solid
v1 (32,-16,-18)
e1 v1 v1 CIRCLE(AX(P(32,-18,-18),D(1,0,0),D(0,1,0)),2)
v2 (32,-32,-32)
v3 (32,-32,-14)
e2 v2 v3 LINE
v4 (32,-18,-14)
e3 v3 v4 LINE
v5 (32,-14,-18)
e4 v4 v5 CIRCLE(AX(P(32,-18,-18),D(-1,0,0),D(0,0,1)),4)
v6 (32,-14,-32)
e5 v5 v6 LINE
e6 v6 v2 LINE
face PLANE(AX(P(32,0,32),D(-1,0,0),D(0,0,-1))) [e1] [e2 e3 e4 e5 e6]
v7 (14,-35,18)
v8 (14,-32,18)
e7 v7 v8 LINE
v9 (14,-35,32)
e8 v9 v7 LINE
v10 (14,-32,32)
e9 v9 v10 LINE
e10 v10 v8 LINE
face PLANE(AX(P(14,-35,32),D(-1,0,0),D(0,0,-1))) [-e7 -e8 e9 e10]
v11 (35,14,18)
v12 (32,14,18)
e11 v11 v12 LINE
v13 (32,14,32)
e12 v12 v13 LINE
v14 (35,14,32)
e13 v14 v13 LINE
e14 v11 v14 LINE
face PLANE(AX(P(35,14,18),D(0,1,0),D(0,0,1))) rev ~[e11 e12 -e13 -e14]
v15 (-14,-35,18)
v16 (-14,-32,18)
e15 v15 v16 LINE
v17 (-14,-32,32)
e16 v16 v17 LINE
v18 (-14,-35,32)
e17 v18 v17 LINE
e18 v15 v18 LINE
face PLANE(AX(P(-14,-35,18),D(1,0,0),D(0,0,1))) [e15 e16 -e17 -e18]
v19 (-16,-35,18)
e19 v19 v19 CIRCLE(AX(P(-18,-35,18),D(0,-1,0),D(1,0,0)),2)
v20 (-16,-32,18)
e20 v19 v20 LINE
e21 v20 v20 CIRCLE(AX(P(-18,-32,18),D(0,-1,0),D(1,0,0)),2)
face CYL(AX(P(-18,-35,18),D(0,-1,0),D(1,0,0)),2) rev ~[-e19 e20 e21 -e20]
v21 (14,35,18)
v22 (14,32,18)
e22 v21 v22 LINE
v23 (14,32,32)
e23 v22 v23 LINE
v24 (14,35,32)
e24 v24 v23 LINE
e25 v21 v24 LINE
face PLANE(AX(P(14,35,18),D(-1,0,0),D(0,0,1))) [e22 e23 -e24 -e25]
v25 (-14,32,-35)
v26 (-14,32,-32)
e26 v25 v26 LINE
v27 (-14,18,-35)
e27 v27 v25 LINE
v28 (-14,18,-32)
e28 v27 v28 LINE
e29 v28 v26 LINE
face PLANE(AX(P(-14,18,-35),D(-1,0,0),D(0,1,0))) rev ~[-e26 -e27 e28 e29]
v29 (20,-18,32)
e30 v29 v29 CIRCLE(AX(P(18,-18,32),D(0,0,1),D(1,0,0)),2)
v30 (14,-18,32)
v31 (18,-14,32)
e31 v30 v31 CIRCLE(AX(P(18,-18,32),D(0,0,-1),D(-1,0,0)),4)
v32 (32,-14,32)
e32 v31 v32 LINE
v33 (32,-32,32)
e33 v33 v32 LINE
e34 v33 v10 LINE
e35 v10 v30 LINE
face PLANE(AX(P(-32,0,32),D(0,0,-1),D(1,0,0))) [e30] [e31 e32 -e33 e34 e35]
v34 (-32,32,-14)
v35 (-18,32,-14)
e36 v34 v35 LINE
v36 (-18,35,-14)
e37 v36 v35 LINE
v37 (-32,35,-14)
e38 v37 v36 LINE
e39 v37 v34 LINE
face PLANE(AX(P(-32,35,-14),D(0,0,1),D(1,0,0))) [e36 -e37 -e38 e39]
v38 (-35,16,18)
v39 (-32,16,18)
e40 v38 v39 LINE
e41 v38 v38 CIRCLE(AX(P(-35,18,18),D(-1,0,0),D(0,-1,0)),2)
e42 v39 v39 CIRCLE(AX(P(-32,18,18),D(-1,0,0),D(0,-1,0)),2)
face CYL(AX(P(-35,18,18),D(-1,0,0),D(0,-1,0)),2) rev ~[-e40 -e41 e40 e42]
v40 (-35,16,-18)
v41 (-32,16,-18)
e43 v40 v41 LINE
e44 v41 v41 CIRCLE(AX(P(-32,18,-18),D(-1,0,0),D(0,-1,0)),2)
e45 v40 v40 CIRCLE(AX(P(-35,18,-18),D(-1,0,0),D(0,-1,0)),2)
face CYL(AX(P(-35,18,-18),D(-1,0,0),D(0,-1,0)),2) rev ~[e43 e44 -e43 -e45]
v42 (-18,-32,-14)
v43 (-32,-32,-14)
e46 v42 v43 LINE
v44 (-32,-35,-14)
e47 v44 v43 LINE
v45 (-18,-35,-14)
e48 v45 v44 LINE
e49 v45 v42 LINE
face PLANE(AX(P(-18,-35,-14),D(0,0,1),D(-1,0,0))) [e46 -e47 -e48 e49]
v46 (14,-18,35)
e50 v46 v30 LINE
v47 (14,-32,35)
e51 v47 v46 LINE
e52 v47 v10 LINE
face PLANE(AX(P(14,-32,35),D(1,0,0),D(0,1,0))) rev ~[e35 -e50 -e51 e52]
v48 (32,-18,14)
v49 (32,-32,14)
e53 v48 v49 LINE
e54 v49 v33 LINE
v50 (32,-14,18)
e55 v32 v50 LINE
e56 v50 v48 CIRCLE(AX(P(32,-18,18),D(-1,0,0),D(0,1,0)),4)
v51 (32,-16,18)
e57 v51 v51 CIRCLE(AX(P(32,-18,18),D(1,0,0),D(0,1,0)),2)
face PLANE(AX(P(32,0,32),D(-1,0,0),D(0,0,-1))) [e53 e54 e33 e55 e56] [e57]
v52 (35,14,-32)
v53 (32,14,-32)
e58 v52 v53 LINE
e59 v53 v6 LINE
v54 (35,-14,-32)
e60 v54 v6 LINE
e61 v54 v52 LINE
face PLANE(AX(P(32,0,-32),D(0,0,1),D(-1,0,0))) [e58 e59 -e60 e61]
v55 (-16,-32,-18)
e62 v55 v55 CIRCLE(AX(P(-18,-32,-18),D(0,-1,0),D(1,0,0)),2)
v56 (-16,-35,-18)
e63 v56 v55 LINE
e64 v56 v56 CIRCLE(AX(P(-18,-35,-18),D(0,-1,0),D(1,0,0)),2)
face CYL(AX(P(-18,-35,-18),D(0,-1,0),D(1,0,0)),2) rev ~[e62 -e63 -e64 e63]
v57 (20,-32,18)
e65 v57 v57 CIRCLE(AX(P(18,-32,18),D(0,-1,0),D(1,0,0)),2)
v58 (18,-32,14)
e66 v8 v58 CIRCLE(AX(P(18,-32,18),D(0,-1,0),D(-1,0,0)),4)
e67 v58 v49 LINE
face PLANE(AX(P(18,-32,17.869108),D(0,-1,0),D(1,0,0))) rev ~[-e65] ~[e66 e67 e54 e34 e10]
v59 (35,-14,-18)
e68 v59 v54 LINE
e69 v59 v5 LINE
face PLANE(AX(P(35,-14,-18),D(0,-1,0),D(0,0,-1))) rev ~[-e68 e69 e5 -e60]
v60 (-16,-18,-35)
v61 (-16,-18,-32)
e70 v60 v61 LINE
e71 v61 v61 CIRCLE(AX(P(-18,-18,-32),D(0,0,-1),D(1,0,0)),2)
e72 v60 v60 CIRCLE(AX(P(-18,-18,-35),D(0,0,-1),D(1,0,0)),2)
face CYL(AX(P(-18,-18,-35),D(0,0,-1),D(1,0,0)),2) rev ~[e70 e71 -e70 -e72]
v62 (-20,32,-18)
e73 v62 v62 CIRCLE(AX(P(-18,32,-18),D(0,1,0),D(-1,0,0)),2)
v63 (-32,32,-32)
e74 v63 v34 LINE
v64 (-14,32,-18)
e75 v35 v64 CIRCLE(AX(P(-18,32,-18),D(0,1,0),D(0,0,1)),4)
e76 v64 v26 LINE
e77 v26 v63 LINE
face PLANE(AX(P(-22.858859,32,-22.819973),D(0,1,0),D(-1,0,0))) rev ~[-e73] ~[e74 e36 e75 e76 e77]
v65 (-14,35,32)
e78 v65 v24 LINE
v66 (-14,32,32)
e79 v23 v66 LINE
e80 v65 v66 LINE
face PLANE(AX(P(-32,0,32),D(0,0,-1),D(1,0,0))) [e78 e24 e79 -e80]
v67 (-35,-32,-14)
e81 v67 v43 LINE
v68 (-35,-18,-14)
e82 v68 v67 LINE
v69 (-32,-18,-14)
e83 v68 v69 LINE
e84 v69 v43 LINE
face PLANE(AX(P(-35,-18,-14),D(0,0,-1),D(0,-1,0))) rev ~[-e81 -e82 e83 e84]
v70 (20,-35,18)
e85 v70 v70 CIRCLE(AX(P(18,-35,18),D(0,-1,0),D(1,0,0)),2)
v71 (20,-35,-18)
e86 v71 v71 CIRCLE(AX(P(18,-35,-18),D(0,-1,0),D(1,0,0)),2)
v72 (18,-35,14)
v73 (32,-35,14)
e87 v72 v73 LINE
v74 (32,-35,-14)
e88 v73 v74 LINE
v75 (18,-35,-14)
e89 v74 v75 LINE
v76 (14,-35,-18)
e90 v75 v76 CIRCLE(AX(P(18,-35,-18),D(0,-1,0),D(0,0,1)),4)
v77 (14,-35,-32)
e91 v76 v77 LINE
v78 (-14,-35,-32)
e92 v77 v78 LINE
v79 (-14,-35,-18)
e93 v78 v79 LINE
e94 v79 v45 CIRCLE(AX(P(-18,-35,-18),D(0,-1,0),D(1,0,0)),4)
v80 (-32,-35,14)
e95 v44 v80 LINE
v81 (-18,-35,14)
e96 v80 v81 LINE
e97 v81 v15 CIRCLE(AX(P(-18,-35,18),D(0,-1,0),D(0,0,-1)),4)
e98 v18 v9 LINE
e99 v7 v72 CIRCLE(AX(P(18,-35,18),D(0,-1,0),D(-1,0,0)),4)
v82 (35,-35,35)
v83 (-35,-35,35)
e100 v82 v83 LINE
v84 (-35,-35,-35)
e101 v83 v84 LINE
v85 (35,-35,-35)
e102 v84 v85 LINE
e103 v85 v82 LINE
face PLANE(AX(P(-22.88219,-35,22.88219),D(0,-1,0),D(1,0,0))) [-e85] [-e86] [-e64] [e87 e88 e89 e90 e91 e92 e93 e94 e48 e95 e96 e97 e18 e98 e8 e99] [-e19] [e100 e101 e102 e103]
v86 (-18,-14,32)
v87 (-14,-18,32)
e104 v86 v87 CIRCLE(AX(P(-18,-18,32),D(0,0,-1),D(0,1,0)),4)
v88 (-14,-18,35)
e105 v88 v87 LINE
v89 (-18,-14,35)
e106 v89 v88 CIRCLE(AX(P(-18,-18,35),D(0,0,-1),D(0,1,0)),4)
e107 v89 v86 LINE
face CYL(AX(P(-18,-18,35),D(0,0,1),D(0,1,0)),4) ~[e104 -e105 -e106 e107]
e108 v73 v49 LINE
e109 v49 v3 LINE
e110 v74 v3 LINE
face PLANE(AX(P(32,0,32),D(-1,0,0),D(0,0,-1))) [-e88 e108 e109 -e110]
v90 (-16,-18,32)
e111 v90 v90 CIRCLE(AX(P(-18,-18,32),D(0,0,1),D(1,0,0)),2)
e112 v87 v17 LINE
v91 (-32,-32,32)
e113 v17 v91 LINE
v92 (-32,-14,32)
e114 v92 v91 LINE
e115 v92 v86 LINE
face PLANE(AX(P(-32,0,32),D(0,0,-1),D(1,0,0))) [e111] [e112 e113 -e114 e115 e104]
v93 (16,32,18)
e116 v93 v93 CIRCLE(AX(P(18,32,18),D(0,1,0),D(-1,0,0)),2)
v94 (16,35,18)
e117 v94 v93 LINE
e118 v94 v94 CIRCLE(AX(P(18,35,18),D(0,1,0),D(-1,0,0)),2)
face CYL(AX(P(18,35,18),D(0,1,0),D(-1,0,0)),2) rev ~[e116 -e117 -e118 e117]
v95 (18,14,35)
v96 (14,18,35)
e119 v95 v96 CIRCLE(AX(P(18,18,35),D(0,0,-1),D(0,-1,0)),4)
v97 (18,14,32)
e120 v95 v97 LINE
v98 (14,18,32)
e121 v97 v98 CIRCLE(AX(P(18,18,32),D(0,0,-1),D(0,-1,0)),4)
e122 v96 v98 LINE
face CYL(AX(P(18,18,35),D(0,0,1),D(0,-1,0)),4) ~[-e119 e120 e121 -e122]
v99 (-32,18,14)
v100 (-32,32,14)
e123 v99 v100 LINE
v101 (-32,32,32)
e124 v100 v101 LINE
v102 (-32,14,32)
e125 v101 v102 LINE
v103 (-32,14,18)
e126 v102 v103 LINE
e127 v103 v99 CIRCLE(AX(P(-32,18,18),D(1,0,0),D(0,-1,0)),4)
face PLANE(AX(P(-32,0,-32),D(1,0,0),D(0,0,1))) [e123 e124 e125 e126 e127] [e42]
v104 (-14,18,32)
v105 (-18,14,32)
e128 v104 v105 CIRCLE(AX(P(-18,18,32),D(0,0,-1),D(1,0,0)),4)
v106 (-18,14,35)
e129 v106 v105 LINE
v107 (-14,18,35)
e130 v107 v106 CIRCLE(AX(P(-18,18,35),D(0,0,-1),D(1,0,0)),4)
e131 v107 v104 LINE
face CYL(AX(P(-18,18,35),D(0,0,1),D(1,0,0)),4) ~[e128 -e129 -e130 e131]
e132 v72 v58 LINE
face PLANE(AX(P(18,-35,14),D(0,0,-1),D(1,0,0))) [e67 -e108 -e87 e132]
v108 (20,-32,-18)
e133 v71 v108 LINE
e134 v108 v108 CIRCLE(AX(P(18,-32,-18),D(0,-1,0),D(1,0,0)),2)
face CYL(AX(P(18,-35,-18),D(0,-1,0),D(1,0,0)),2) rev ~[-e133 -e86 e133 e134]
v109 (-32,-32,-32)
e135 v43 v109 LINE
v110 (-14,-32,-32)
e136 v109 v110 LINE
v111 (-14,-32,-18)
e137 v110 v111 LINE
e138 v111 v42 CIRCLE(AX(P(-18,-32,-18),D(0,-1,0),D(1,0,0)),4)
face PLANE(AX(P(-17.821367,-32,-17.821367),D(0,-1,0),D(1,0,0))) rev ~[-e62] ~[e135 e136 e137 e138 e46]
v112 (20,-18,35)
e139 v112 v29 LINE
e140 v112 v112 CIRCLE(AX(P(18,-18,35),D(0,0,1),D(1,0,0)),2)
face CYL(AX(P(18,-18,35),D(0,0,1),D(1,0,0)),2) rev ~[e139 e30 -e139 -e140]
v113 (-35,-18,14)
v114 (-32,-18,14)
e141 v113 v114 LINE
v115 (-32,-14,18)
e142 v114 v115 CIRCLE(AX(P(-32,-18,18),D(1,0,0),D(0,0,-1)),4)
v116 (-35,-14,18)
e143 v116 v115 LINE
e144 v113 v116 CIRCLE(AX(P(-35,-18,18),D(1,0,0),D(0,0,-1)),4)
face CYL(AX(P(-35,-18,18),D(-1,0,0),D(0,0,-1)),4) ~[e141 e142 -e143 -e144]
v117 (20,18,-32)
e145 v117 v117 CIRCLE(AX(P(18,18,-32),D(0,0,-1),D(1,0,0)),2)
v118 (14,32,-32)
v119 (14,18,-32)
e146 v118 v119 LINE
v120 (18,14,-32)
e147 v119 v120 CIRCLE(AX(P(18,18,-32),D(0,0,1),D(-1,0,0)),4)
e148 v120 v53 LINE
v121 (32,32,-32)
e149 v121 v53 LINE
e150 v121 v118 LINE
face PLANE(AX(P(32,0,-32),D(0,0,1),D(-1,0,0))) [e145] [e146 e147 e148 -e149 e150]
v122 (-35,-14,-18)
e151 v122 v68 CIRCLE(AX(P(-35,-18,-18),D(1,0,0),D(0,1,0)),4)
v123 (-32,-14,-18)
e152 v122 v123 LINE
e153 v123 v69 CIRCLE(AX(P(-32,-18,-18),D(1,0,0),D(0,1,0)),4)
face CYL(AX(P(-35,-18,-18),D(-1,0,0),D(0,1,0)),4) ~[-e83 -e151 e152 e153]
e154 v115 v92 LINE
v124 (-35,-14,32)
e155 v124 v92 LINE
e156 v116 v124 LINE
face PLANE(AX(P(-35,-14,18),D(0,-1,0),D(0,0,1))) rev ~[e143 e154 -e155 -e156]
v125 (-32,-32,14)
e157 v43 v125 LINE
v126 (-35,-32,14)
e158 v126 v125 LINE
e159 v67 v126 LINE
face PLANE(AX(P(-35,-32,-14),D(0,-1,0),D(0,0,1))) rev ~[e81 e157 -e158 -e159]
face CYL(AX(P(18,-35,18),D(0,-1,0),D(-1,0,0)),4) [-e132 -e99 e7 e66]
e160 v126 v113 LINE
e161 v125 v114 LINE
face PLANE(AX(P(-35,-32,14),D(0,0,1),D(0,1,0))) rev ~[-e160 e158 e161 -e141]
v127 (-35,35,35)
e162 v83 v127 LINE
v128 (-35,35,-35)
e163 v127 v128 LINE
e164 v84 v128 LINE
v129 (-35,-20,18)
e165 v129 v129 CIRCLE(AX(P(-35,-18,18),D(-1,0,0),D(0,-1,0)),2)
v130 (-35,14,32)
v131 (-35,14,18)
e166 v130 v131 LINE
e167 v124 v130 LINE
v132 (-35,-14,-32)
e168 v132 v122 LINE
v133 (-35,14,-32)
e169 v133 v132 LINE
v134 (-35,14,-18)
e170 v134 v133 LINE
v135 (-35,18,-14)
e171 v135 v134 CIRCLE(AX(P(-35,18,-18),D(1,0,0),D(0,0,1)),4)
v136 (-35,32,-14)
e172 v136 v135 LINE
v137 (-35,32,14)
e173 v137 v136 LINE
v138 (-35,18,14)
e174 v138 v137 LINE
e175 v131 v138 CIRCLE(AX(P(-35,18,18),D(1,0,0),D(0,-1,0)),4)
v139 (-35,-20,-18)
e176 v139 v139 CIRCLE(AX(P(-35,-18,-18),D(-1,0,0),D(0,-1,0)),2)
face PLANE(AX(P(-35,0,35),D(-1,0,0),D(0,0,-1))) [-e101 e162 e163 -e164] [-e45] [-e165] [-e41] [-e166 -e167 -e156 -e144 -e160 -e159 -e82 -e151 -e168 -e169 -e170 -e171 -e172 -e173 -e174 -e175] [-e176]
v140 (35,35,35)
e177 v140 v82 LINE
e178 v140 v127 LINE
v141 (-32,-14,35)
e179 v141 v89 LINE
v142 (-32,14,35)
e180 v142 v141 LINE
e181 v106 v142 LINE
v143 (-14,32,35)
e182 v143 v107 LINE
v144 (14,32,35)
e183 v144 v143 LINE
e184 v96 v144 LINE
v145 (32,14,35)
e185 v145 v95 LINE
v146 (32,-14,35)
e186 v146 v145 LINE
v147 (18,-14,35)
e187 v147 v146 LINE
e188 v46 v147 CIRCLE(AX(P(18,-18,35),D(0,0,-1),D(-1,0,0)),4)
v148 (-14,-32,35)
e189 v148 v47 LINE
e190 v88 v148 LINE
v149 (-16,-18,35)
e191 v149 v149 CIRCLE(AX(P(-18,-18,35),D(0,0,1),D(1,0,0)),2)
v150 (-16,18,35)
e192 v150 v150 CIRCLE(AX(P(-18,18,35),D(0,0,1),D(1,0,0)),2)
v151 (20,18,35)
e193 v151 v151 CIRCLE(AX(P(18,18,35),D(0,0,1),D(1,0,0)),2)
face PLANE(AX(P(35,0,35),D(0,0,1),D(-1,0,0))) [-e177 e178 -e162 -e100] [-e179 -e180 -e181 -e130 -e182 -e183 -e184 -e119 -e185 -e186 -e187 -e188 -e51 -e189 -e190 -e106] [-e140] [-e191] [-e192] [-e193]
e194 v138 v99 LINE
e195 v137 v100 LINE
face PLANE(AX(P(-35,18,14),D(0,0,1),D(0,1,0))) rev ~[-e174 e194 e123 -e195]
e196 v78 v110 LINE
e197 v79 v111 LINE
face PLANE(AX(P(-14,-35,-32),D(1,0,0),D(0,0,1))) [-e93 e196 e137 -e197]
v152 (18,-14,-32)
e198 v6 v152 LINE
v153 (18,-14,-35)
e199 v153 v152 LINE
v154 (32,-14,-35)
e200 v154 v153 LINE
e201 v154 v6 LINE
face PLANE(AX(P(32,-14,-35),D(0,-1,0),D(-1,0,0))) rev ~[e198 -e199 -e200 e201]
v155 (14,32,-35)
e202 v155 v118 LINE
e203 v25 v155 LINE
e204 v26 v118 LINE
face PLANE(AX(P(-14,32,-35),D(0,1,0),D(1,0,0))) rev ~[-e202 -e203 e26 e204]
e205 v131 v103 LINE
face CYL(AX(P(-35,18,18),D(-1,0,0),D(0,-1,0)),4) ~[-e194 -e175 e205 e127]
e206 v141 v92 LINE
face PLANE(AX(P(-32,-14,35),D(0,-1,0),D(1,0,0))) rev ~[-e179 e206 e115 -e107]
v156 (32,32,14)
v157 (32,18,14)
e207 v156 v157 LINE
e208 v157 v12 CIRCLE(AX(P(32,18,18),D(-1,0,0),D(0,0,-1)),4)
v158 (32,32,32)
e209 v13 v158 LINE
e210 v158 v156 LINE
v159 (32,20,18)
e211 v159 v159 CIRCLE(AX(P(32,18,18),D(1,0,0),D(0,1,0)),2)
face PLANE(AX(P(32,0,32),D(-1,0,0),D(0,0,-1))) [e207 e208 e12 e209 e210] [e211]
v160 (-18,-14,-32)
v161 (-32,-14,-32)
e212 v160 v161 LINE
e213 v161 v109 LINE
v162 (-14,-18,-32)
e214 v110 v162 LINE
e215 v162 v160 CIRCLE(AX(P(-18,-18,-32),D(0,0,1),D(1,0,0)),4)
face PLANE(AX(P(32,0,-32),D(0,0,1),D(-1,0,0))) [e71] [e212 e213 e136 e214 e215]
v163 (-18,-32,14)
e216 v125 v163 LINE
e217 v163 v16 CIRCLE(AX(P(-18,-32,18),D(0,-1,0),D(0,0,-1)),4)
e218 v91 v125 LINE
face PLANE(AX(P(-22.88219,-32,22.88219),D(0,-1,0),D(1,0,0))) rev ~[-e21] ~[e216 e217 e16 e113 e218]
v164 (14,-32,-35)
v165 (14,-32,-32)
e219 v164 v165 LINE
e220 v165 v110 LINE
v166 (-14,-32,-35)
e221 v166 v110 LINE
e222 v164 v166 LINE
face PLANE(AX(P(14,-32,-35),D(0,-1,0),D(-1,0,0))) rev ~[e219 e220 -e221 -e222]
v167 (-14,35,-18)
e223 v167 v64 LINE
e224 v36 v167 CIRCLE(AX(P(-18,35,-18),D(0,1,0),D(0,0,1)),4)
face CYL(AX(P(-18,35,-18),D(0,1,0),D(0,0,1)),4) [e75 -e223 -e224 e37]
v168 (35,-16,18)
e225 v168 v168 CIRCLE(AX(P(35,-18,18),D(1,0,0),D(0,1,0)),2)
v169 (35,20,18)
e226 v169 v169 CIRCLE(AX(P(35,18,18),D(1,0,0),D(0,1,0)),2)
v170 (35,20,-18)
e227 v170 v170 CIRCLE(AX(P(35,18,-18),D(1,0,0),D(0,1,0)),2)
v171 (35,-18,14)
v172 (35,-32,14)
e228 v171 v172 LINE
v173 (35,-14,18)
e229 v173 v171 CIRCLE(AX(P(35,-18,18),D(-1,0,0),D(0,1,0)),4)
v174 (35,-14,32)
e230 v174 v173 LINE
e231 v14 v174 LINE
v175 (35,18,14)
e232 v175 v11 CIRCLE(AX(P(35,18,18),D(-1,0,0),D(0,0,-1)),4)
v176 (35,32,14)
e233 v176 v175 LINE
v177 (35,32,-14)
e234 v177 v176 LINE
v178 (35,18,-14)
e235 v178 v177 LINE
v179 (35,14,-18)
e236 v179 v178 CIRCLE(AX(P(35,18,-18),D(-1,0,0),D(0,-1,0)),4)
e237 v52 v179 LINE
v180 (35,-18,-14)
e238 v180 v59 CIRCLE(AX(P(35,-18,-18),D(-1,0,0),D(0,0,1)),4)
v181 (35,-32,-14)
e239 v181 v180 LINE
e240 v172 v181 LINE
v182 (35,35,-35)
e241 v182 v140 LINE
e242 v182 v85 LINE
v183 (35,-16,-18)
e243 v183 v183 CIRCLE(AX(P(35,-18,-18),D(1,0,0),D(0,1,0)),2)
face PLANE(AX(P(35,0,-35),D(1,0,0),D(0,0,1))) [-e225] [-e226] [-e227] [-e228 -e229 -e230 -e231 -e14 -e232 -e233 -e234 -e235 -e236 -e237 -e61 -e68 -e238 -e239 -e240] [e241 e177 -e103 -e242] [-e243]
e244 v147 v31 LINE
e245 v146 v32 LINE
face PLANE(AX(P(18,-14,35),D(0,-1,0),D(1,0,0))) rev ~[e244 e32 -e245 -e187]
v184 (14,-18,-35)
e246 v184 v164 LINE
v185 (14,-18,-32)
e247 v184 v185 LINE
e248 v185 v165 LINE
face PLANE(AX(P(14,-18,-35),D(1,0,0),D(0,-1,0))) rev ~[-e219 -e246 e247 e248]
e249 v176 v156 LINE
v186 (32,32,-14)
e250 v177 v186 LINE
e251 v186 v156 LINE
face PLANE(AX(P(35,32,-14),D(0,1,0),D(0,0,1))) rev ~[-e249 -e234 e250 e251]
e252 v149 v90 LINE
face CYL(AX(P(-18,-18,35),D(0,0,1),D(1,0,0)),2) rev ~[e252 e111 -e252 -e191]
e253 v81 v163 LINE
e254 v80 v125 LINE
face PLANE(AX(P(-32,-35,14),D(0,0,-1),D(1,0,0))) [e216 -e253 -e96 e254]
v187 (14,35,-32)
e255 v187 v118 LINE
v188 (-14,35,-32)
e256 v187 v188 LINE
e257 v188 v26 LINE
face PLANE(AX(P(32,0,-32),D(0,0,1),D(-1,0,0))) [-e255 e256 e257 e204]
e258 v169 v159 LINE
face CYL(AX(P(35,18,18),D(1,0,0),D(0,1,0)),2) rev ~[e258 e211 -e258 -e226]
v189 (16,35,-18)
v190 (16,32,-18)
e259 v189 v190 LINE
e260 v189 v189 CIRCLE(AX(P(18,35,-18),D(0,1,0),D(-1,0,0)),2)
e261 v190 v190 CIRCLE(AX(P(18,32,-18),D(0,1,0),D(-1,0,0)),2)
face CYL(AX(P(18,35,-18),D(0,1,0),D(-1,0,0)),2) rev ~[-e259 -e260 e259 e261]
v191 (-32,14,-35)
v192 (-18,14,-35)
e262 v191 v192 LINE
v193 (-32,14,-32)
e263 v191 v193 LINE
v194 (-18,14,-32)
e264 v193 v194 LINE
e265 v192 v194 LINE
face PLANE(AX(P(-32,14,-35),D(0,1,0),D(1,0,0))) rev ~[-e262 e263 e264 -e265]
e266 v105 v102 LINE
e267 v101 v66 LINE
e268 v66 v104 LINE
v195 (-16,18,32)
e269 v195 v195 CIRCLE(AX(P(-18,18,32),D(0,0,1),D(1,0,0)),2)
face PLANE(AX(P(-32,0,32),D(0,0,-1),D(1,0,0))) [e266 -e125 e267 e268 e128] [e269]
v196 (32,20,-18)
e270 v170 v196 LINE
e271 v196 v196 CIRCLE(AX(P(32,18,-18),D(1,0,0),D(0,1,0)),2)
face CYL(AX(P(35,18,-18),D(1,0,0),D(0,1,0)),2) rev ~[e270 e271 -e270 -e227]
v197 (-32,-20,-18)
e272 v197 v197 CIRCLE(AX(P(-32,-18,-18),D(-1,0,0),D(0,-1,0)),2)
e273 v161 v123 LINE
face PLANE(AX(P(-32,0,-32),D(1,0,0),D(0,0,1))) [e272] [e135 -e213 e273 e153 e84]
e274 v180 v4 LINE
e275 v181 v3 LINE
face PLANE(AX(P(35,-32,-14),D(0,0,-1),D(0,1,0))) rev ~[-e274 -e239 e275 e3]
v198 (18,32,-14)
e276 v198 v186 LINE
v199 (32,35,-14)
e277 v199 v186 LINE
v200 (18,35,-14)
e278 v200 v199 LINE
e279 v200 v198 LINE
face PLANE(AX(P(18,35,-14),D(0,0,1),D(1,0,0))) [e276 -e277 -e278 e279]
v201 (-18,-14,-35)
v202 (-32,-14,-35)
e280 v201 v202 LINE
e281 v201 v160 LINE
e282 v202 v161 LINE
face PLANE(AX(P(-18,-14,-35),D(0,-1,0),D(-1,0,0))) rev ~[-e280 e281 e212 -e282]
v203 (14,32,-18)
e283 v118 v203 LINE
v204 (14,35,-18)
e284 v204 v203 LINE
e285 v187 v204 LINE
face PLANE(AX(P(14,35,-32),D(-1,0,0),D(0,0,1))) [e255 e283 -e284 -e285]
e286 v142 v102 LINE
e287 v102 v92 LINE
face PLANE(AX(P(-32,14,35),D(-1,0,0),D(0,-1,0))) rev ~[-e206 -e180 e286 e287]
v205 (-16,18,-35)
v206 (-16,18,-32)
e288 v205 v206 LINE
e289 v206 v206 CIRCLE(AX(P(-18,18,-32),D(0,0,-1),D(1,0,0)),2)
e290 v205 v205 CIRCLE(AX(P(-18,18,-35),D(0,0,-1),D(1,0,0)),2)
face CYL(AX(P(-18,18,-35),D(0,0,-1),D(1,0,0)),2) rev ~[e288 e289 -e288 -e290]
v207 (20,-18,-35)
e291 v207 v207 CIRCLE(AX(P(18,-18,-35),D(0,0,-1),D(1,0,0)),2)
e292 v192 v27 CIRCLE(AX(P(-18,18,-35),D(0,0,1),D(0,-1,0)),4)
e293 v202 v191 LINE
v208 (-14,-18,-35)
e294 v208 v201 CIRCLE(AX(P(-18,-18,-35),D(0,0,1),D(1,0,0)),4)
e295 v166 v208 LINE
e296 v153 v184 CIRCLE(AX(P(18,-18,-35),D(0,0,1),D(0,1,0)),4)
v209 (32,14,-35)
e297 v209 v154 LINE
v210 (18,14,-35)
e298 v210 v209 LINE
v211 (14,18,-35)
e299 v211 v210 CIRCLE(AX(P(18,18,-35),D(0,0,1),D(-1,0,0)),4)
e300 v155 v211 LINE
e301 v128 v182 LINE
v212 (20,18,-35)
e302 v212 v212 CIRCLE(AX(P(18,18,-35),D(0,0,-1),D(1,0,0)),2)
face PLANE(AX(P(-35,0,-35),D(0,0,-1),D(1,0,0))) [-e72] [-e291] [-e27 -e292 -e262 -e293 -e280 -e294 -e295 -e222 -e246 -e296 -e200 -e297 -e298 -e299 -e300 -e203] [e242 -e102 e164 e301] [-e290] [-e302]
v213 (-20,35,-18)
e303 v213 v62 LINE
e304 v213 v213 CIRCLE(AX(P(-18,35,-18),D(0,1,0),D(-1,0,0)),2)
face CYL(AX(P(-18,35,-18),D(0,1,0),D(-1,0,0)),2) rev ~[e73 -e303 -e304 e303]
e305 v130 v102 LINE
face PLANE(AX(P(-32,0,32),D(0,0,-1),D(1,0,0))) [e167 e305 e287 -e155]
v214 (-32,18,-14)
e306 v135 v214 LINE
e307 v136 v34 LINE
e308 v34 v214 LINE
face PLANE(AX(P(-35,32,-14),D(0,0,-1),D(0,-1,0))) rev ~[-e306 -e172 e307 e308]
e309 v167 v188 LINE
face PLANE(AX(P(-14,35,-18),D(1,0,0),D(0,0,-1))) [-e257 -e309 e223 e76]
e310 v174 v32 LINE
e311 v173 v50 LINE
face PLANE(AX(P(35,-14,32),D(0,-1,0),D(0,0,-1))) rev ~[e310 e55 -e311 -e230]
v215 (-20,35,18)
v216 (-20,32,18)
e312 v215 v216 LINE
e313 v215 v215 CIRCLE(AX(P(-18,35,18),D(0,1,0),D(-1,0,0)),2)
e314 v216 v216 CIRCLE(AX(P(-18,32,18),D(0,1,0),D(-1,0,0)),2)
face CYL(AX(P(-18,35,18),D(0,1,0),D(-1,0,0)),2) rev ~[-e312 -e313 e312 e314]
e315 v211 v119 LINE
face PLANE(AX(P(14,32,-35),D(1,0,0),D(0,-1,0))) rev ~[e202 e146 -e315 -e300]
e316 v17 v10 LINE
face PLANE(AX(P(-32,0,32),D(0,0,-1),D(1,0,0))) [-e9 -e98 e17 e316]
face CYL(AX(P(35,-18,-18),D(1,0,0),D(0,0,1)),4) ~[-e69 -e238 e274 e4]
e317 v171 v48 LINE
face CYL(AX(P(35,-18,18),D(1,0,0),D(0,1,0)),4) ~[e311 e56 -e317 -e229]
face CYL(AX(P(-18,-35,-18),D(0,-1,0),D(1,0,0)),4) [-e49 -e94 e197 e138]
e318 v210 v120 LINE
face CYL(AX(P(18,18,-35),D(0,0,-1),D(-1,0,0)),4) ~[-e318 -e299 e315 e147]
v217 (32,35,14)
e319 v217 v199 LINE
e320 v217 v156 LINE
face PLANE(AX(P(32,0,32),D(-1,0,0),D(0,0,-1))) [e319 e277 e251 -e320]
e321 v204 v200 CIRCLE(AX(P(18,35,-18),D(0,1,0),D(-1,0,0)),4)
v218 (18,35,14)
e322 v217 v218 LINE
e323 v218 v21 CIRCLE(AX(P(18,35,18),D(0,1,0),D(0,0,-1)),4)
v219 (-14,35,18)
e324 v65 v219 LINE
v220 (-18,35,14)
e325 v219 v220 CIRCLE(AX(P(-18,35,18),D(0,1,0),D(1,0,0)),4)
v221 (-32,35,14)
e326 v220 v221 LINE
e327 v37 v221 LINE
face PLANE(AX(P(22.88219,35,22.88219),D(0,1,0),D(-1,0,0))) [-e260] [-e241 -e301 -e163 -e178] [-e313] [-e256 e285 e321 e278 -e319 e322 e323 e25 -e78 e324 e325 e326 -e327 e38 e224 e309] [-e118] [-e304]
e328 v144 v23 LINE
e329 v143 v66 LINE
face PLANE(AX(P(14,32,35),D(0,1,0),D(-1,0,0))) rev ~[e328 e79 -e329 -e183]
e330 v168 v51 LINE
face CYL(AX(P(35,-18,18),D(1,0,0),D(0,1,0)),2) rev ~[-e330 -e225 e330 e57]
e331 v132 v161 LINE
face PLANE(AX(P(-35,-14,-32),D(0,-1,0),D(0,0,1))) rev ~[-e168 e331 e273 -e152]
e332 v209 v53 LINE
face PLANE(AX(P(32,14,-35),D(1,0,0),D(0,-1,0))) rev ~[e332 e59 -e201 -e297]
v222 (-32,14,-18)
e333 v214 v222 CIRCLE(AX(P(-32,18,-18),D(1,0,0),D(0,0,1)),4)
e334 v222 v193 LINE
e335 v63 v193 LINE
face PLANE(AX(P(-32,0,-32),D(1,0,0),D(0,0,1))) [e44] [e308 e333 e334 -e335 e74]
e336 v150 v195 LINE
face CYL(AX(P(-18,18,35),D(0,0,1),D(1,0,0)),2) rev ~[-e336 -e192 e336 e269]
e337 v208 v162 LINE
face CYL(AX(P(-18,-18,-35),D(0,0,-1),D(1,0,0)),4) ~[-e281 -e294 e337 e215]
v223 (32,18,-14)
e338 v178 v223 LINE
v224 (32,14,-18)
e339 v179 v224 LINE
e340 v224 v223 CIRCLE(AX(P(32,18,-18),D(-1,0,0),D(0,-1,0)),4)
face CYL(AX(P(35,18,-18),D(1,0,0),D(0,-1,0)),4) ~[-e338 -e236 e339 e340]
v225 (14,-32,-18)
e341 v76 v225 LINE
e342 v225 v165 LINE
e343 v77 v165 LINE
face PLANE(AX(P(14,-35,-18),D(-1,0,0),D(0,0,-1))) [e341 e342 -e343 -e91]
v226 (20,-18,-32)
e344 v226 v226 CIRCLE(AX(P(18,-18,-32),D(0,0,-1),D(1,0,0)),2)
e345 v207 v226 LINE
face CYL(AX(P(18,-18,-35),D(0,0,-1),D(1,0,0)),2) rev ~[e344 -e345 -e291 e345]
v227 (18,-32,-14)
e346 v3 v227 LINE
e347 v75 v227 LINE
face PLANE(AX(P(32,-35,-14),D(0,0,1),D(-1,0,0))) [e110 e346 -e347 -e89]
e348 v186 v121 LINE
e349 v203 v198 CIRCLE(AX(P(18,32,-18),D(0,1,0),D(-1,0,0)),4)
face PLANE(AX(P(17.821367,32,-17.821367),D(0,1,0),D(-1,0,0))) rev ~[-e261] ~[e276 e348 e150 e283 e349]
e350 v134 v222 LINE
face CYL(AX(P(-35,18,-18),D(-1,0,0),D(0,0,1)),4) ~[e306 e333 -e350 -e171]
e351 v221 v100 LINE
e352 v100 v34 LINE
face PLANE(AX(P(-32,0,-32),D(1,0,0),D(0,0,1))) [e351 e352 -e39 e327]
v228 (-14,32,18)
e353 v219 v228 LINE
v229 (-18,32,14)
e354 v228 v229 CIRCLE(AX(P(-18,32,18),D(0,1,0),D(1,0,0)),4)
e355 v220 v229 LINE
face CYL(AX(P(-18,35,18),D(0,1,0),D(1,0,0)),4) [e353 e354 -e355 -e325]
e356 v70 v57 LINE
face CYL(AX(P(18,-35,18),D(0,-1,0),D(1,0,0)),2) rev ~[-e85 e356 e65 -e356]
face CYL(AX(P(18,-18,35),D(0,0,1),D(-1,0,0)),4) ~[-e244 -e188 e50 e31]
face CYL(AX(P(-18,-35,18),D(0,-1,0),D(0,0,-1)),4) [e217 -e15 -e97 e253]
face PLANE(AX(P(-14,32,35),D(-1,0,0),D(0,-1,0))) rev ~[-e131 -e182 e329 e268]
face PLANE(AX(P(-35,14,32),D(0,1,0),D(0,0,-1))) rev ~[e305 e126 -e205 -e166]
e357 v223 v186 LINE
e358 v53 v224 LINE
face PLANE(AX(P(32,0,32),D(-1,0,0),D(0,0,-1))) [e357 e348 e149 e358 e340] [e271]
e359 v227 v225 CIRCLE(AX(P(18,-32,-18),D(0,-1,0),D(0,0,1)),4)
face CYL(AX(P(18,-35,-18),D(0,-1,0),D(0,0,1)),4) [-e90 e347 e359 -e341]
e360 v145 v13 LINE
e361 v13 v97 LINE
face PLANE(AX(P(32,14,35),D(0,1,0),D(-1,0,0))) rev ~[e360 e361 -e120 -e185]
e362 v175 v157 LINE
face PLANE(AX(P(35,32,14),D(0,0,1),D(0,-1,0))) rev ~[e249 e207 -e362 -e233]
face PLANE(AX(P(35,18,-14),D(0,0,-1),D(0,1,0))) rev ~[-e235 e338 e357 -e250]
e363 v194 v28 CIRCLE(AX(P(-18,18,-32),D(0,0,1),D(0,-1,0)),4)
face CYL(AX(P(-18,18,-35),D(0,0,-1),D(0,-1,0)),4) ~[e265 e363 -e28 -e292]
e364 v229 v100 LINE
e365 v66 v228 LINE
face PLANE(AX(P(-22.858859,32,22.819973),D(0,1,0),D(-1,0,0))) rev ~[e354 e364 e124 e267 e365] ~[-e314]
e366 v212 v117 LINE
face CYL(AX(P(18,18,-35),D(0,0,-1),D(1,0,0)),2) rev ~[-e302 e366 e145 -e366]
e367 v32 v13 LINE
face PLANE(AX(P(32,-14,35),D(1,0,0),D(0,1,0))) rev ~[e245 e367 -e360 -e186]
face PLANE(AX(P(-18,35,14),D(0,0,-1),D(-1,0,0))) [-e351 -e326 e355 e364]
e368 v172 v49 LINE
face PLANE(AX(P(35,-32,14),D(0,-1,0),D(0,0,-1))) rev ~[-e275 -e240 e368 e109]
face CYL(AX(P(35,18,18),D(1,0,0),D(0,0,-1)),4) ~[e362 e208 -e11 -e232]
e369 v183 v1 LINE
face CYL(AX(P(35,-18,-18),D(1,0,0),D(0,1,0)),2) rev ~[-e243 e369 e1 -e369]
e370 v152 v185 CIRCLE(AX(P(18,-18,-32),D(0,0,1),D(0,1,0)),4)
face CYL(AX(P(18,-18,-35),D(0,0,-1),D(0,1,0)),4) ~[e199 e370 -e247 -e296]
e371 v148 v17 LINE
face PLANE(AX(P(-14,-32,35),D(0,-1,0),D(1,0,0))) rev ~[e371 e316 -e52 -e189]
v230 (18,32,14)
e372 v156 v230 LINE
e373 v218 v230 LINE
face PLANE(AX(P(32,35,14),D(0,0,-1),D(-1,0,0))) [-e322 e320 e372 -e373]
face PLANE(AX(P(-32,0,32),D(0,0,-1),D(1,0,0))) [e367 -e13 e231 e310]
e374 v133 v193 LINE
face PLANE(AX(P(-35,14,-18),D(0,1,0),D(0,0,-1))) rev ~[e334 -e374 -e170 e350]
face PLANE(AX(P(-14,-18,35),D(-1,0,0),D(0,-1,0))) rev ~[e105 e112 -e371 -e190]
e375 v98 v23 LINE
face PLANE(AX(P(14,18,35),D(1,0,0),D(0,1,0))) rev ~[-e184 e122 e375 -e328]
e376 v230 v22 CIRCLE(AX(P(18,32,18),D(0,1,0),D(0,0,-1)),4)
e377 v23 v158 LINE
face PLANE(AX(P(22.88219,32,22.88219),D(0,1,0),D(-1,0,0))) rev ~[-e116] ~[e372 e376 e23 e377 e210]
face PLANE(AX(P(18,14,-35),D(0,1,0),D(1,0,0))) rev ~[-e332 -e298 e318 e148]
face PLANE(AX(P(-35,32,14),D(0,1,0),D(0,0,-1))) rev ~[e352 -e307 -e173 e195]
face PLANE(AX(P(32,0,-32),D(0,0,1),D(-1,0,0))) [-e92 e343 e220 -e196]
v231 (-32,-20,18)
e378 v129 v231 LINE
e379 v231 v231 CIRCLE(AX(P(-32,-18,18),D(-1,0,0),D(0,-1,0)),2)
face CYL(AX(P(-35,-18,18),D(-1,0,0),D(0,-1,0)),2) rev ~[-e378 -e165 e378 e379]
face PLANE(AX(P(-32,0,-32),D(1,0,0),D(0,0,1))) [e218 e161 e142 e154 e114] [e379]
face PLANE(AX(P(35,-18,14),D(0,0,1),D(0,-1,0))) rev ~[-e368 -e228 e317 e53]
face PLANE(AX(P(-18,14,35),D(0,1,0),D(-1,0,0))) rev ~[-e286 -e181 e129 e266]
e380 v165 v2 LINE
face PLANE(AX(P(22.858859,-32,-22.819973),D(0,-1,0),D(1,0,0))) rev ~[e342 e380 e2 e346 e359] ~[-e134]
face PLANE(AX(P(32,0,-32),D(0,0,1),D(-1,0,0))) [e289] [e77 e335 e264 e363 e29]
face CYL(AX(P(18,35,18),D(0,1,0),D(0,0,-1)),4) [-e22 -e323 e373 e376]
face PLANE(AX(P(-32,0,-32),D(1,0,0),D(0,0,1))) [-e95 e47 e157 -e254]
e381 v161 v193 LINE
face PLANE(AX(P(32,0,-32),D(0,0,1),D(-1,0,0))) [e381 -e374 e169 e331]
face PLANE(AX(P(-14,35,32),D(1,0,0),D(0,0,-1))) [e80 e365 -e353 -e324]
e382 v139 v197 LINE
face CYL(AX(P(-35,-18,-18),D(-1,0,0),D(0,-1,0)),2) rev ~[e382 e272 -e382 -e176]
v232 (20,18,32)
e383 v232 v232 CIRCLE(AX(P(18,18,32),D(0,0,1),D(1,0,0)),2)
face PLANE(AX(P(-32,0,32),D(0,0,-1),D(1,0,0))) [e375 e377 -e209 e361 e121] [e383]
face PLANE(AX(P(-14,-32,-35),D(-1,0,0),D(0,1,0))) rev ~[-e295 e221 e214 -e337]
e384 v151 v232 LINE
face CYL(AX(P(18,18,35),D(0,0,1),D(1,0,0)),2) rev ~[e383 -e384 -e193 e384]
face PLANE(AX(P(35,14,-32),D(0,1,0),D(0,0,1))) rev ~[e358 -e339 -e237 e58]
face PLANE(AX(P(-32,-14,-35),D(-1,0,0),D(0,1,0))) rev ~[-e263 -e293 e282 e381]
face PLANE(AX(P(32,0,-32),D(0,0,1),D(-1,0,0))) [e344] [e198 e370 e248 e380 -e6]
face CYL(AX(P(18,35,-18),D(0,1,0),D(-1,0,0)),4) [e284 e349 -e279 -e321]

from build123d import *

# Parameters (mm, degrees)
F0_W      = 3
F0_H      = 3
F1_DEPTH  = 35
F2_R      = 2
F3_DEPTH  = 3
F4_R      = 2
F5_DEPTH  = 3
F6_R      = 2
F7_DEPTH  = 3
F8_R      = 2
F9_DEPTH  = 3
F10_R     = 2
F11_DEPTH = 3
F12_R     = 2
F13_DEPTH = 3


with BuildPart() as f1:
    # F0 (on Front) → F1 (new body, symmetric)
    with BuildSketch(Plane.XZ):
        Polygon((-35, 35), (-35, 32), (-32, 32), (-14, 32), (14, 32), (32, 32), (32, 35), align=None)
        Polygon((35, 32), (32, 32), (32, 14), (32, -14), (32, -32), (35, -32), (35, 0), align=None)
        with Locations((33.5, 33.5)):
            Rectangle(F0_W, F0_H)
        Polygon((-35, 32), (-35, 0), (-35, -32), (-32, -32), (-32, -14), (-32, 14), (-32, 32), align=None)
        Polygon((-14, -32), (-32, -32), (-32, -35), (32, -35), (32, -32), (14, -32), align=None)
        with Locations((-33.5, -33.5)):
            Rectangle(F0_W, F0_H)
        with Locations((33.5, -33.5)):
            Rectangle(F0_W, F0_H)
    extrude(amount=F1_DEPTH, both=True)

    # F2 (on face) → F3 (join)
    with BuildSketch(Plane.XZ.offset(35)):
        with BuildLine():
            Line((-32, 14), (-18, 14))
            ThreePointArc((-18, 14), (-20.8284271247, 20.8284271247), (-14, 18))
            Line((-14, 18), (-14, 32))
            Line((-14, 32), (-32, 32))
            Line((-32, 32), (-32, 14))
        make_face()
        with BuildLine():
            ThreePointArc((-14, 18), (-20.8284271247, 20.8284271247), (-18, 14))
            ThreePointArc((-18, 14), (-15.1715728753, 15.1715728753), (-14, 18))
        make_face()
        with Locations((-18, 18)):
            Circle(F2_R, mode=Mode.SUBTRACT)
        with BuildLine():
            ThreePointArc((22, 18), (18, 22), (14, 18))
            ThreePointArc((14, 18), (15.1715728753, 15.1715728753), (18, 14))
            ThreePointArc((18, 14), (20.8284271247, 15.1715728753), (22, 18))
        make_face()
        with Locations((18, 18)):
            Circle(F2_R, mode=Mode.SUBTRACT)
        with BuildLine():
            Line((32, 32), (14, 32))
            Line((14, 32), (14, 18))
            ThreePointArc((14, 18), (18, 22), (22, 18))
            ThreePointArc((22, 18), (20.8284271247, 15.1715728753), (18, 14))
            Line((18, 14), (32, 14))
            Line((32, 14), (32, 32))
        make_face()
        with BuildLine():
            Line((14, -18), (14, -32))
            Line((14, -32), (32, -32))
            Line((32, -32), (32, -14))
            Line((32, -14), (18, -14))
            ThreePointArc((18, -14), (20.8284271247, -15.1715728753), (22, -18))
            ThreePointArc((22, -18), (18, -22), (14, -18))
        make_face()
        with BuildLine():
            ThreePointArc((18, -14), (15.1715728753, -15.1715728753), (14, -18))
            ThreePointArc((14, -18), (18, -22), (22, -18))
            ThreePointArc((22, -18), (20.8284271247, -15.1715728753), (18, -14))
        make_face()
        with Locations((18, -18)):
            Circle(F2_R, mode=Mode.SUBTRACT)
        with BuildLine():
            ThreePointArc((-14, -18), (-15.1715728753, -15.1715728753), (-18, -14))
            ThreePointArc((-18, -14), (-20.8284271247, -20.8284271247), (-14, -18))
        make_face()
        with Locations((-18, -18)):
            Circle(F2_R, mode=Mode.SUBTRACT)
        with BuildLine():
            Line((-18, -14), (-32, -14))
            Line((-32, -14), (-32, -32))
            Line((-32, -32), (-14, -32))
            Line((-14, -32), (-14, -18))
            ThreePointArc((-14, -18), (-20.8284271247, -20.8284271247), (-18, -14))
        make_face()
    extrude(amount=-F3_DEPTH)

    # F4 (on face) → F5 (join)
    with BuildSketch(Plane(origin=(0, 35, 0), x_dir=(-1, 0, 0), z_dir=(0, 1, 0))):
        with BuildLine():
            Line((-14, 18), (-14, 32))
            Line((-14, 32), (-32, 32))
            Line((-32, 32), (-32, 14))
            Line((-32, 14), (-18, 14))
            ThreePointArc((-18, 14), (-20.8284271247, 20.8284271247), (-14, 18))
        make_face()
        with BuildLine():
            ThreePointArc((-18, 14), (-15.1715728753, 15.1715728753), (-14, 18))
            ThreePointArc((-14, 18), (-20.8284271247, 20.8284271247), (-18, 14))
        make_face()
        with Locations((-18, 18)):
            Circle(F4_R, mode=Mode.SUBTRACT)
        with BuildLine():
            Line((14, 32), (14, 18))
            ThreePointArc((14, 18), (18, 22), (22, 18))
            ThreePointArc((22, 18), (20.8284271247, 15.1715728753), (18, 14))
            Line((18, 14), (32, 14))
            Line((32, 14), (32, 32))
            Line((32, 32), (14, 32))
        make_face()
        with BuildLine():
            ThreePointArc((22, 18), (18, 22), (14, 18))
            ThreePointArc((14, 18), (15.1715728753, 15.1715728753), (18, 14))
            ThreePointArc((18, 14), (20.8284271247, 15.1715728753), (22, 18))
        make_face()
        with Locations((18, 18)):
            Circle(F4_R, mode=Mode.SUBTRACT)
        with BuildLine():
            Line((32, -32), (32, -14))
            Line((32, -14), (18, -14))
            ThreePointArc((18, -14), (20.8284271247, -15.1715728753), (22, -18))
            ThreePointArc((22, -18), (18, -22), (14, -18))
            Line((14, -18), (14, -32))
            Line((14, -32), (32, -32))
        make_face()
        with BuildLine():
            ThreePointArc((22, -18), (20.8284271247, -15.1715728753), (18, -14))
            ThreePointArc((18, -14), (15.1715728753, -15.1715728753), (14, -18))
            ThreePointArc((14, -18), (18, -22), (22, -18))
        make_face()
        with Locations((18, -18)):
            Circle(F4_R, mode=Mode.SUBTRACT)
        with BuildLine():
            ThreePointArc((-14, -18), (-15.1715728753, -15.1715728753), (-18, -14))
            ThreePointArc((-18, -14), (-20.8284271247, -20.8284271247), (-14, -18))
        make_face()
        with Locations((-18, -18)):
            Circle(F4_R, mode=Mode.SUBTRACT)
        with BuildLine():
            Line((-18, -14), (-32, -14))
            Line((-32, -14), (-32, -32))
            Line((-32, -32), (-14, -32))
            Line((-14, -32), (-14, -18))
            ThreePointArc((-14, -18), (-20.8284271247, -20.8284271247), (-18, -14))
        make_face()
    extrude(amount=-F5_DEPTH)

    # F6 (on face) → F7 (cut)
    with BuildSketch(Plane.YZ.offset(35)):
        with BuildLine():
            Line((14, 32), (-14, 32))
            Line((-14, 32), (-14, 18))
            ThreePointArc((-14, 18), (-15.1715728753, 15.1715728753), (-18, 14))
            Line((-18, 14), (-32, 14))
            Line((-32, 14), (-32, -14))
            Line((-32, -14), (-18, -14))
            ThreePointArc((-18, -14), (-15.1715728753, -15.1715728753), (-14, -18))
            Line((-14, -18), (-14, -32))
            Line((-14, -32), (14, -32))
            Line((14, -32), (14, -18))
            ThreePointArc((14, -18), (15.1715728753, -15.1715728753), (18, -14))
            Line((18, -14), (32, -14))
            Line((32, -14), (32, 14))
            Line((32, 14), (18, 14))
            ThreePointArc((18, 14), (15.1715728753, 15.1715728753), (14, 18))
            Line((14, 18), (14, 32))
        make_face()
        with Locations((-18, 18)):
            Circle(F6_R)
        with Locations((18, 18)):
            Circle(F6_R)
        with Locations((18, -18)):
            Circle(F6_R)
        with Locations((-18, -18)):
            Circle(F6_R)
    extrude(amount=-F7_DEPTH, mode=Mode.SUBTRACT)

    # F8 (on face) → F9 (cut)
    with BuildSketch(Plane(origin=(-35, 0, 0), x_dir=(0, -1, 0), z_dir=(-1, 0, 0))):
        with BuildLine():
            ThreePointArc((-14, 18), (-15.1715728753, 15.1715728753), (-18, 14))
            Line((-18, 14), (-32, 14))
            Line((-32, 14), (-32, -14))
            Line((-32, -14), (-18, -14))
            ThreePointArc((-18, -14), (-15.1715728753, -15.1715728753), (-14, -18))
            Line((-14, -18), (-14, -32))
            Line((-14, -32), (14, -32))
            Line((14, -32), (14, -18))
            ThreePointArc((14, -18), (15.1715728753, -15.1715728753), (18, -14))
            Line((18, -14), (32, -14))
            Line((32, -14), (32, 14))
            Line((32, 14), (18, 14))
            ThreePointArc((18, 14), (15.1715728753, 15.1715728753), (14, 18))
            Line((14, 18), (14, 32))
            Line((14, 32), (-14, 32))
            Line((-14, 32), (-14, 18))
        make_face()
        with Locations((-18, 18)):
            Circle(F8_R)
        with Locations((18, 18)):
            Circle(F8_R)
        with Locations((18, -18)):
            Circle(F8_R)
        with Locations((-18, -18)):
            Circle(F8_R)
    extrude(amount=-F9_DEPTH, mode=Mode.SUBTRACT)

    # F10 (on face) → F11 (cut)
    with BuildSketch(Plane.XY.offset(35)):
        with BuildLine():
            Line((14, 32), (-14, 32))
            Line((-14, 32), (-14, 18))
            ThreePointArc((-14, 18), (-15.1715728753, 15.1715728753), (-18, 14))
            Line((-18, 14), (-32, 14))
            Line((-32, 14), (-32, -14))
            Line((-32, -14), (-18, -14))
            ThreePointArc((-18, -14), (-15.1715728753, -15.1715728753), (-14, -18))
            Line((-14, -18), (-14, -32))
            Line((-14, -32), (14, -32))
            Line((14, -32), (14, -18))
            ThreePointArc((14, -18), (15.1715728753, -15.1715728753), (18, -14))
            Line((18, -14), (32, -14))
            Line((32, -14), (32, 14))
            Line((32, 14), (18, 14))
            ThreePointArc((18, 14), (15.1715728753, 15.1715728753), (14, 18))
            Line((14, 18), (14, 32))
        make_face()
        with Locations((-18, 18)):
            Circle(F10_R)
        with Locations((18, 18)):
            Circle(F10_R)
        with Locations((18, -18)):
            Circle(F10_R)
        with Locations((-18, -18)):
            Circle(F10_R)
    extrude(amount=-F11_DEPTH, mode=Mode.SUBTRACT)

    # F12 (on face) → F13 (cut)
    with BuildSketch(Plane(origin=(0, 0, -35), x_dir=(1, 0, 0), z_dir=(0, 0, -1))):
        with BuildLine():
            Line((14, 32), (-14, 32))
            Line((-14, 32), (-14, 18))
            ThreePointArc((-14, 18), (-15.1715728753, 15.1715728753), (-18, 14))
            Line((-18, 14), (-32, 14))
            Line((-32, 14), (-32, -14))
            Line((-32, -14), (-18, -14))
            ThreePointArc((-18, -14), (-15.1715728753, -15.1715728753), (-14, -18))
            Line((-14, -18), (-14, -32))
            Line((-14, -32), (14, -32))
            Line((14, -32), (14, -18))
            ThreePointArc((14, -18), (15.1715728753, -15.1715728753), (18, -14))
            Line((18, -14), (32, -14))
            Line((32, -14), (32, 14))
            Line((32, 14), (18, 14))
            ThreePointArc((18, 14), (15.1715728753, 15.1715728753), (14, 18))
            Line((14, 18), (14, 32))
        make_face()
        with Locations((-18, 18)):
            Circle(F12_R)
        with Locations((-18, -18)):
            Circle(F12_R)
        with Locations((18, -18)):
            Circle(F12_R)
        with Locations((18, 18)):
            Circle(F12_R)
    extrude(amount=-F13_DEPTH, mode=Mode.SUBTRACT)


solid = f1.part
